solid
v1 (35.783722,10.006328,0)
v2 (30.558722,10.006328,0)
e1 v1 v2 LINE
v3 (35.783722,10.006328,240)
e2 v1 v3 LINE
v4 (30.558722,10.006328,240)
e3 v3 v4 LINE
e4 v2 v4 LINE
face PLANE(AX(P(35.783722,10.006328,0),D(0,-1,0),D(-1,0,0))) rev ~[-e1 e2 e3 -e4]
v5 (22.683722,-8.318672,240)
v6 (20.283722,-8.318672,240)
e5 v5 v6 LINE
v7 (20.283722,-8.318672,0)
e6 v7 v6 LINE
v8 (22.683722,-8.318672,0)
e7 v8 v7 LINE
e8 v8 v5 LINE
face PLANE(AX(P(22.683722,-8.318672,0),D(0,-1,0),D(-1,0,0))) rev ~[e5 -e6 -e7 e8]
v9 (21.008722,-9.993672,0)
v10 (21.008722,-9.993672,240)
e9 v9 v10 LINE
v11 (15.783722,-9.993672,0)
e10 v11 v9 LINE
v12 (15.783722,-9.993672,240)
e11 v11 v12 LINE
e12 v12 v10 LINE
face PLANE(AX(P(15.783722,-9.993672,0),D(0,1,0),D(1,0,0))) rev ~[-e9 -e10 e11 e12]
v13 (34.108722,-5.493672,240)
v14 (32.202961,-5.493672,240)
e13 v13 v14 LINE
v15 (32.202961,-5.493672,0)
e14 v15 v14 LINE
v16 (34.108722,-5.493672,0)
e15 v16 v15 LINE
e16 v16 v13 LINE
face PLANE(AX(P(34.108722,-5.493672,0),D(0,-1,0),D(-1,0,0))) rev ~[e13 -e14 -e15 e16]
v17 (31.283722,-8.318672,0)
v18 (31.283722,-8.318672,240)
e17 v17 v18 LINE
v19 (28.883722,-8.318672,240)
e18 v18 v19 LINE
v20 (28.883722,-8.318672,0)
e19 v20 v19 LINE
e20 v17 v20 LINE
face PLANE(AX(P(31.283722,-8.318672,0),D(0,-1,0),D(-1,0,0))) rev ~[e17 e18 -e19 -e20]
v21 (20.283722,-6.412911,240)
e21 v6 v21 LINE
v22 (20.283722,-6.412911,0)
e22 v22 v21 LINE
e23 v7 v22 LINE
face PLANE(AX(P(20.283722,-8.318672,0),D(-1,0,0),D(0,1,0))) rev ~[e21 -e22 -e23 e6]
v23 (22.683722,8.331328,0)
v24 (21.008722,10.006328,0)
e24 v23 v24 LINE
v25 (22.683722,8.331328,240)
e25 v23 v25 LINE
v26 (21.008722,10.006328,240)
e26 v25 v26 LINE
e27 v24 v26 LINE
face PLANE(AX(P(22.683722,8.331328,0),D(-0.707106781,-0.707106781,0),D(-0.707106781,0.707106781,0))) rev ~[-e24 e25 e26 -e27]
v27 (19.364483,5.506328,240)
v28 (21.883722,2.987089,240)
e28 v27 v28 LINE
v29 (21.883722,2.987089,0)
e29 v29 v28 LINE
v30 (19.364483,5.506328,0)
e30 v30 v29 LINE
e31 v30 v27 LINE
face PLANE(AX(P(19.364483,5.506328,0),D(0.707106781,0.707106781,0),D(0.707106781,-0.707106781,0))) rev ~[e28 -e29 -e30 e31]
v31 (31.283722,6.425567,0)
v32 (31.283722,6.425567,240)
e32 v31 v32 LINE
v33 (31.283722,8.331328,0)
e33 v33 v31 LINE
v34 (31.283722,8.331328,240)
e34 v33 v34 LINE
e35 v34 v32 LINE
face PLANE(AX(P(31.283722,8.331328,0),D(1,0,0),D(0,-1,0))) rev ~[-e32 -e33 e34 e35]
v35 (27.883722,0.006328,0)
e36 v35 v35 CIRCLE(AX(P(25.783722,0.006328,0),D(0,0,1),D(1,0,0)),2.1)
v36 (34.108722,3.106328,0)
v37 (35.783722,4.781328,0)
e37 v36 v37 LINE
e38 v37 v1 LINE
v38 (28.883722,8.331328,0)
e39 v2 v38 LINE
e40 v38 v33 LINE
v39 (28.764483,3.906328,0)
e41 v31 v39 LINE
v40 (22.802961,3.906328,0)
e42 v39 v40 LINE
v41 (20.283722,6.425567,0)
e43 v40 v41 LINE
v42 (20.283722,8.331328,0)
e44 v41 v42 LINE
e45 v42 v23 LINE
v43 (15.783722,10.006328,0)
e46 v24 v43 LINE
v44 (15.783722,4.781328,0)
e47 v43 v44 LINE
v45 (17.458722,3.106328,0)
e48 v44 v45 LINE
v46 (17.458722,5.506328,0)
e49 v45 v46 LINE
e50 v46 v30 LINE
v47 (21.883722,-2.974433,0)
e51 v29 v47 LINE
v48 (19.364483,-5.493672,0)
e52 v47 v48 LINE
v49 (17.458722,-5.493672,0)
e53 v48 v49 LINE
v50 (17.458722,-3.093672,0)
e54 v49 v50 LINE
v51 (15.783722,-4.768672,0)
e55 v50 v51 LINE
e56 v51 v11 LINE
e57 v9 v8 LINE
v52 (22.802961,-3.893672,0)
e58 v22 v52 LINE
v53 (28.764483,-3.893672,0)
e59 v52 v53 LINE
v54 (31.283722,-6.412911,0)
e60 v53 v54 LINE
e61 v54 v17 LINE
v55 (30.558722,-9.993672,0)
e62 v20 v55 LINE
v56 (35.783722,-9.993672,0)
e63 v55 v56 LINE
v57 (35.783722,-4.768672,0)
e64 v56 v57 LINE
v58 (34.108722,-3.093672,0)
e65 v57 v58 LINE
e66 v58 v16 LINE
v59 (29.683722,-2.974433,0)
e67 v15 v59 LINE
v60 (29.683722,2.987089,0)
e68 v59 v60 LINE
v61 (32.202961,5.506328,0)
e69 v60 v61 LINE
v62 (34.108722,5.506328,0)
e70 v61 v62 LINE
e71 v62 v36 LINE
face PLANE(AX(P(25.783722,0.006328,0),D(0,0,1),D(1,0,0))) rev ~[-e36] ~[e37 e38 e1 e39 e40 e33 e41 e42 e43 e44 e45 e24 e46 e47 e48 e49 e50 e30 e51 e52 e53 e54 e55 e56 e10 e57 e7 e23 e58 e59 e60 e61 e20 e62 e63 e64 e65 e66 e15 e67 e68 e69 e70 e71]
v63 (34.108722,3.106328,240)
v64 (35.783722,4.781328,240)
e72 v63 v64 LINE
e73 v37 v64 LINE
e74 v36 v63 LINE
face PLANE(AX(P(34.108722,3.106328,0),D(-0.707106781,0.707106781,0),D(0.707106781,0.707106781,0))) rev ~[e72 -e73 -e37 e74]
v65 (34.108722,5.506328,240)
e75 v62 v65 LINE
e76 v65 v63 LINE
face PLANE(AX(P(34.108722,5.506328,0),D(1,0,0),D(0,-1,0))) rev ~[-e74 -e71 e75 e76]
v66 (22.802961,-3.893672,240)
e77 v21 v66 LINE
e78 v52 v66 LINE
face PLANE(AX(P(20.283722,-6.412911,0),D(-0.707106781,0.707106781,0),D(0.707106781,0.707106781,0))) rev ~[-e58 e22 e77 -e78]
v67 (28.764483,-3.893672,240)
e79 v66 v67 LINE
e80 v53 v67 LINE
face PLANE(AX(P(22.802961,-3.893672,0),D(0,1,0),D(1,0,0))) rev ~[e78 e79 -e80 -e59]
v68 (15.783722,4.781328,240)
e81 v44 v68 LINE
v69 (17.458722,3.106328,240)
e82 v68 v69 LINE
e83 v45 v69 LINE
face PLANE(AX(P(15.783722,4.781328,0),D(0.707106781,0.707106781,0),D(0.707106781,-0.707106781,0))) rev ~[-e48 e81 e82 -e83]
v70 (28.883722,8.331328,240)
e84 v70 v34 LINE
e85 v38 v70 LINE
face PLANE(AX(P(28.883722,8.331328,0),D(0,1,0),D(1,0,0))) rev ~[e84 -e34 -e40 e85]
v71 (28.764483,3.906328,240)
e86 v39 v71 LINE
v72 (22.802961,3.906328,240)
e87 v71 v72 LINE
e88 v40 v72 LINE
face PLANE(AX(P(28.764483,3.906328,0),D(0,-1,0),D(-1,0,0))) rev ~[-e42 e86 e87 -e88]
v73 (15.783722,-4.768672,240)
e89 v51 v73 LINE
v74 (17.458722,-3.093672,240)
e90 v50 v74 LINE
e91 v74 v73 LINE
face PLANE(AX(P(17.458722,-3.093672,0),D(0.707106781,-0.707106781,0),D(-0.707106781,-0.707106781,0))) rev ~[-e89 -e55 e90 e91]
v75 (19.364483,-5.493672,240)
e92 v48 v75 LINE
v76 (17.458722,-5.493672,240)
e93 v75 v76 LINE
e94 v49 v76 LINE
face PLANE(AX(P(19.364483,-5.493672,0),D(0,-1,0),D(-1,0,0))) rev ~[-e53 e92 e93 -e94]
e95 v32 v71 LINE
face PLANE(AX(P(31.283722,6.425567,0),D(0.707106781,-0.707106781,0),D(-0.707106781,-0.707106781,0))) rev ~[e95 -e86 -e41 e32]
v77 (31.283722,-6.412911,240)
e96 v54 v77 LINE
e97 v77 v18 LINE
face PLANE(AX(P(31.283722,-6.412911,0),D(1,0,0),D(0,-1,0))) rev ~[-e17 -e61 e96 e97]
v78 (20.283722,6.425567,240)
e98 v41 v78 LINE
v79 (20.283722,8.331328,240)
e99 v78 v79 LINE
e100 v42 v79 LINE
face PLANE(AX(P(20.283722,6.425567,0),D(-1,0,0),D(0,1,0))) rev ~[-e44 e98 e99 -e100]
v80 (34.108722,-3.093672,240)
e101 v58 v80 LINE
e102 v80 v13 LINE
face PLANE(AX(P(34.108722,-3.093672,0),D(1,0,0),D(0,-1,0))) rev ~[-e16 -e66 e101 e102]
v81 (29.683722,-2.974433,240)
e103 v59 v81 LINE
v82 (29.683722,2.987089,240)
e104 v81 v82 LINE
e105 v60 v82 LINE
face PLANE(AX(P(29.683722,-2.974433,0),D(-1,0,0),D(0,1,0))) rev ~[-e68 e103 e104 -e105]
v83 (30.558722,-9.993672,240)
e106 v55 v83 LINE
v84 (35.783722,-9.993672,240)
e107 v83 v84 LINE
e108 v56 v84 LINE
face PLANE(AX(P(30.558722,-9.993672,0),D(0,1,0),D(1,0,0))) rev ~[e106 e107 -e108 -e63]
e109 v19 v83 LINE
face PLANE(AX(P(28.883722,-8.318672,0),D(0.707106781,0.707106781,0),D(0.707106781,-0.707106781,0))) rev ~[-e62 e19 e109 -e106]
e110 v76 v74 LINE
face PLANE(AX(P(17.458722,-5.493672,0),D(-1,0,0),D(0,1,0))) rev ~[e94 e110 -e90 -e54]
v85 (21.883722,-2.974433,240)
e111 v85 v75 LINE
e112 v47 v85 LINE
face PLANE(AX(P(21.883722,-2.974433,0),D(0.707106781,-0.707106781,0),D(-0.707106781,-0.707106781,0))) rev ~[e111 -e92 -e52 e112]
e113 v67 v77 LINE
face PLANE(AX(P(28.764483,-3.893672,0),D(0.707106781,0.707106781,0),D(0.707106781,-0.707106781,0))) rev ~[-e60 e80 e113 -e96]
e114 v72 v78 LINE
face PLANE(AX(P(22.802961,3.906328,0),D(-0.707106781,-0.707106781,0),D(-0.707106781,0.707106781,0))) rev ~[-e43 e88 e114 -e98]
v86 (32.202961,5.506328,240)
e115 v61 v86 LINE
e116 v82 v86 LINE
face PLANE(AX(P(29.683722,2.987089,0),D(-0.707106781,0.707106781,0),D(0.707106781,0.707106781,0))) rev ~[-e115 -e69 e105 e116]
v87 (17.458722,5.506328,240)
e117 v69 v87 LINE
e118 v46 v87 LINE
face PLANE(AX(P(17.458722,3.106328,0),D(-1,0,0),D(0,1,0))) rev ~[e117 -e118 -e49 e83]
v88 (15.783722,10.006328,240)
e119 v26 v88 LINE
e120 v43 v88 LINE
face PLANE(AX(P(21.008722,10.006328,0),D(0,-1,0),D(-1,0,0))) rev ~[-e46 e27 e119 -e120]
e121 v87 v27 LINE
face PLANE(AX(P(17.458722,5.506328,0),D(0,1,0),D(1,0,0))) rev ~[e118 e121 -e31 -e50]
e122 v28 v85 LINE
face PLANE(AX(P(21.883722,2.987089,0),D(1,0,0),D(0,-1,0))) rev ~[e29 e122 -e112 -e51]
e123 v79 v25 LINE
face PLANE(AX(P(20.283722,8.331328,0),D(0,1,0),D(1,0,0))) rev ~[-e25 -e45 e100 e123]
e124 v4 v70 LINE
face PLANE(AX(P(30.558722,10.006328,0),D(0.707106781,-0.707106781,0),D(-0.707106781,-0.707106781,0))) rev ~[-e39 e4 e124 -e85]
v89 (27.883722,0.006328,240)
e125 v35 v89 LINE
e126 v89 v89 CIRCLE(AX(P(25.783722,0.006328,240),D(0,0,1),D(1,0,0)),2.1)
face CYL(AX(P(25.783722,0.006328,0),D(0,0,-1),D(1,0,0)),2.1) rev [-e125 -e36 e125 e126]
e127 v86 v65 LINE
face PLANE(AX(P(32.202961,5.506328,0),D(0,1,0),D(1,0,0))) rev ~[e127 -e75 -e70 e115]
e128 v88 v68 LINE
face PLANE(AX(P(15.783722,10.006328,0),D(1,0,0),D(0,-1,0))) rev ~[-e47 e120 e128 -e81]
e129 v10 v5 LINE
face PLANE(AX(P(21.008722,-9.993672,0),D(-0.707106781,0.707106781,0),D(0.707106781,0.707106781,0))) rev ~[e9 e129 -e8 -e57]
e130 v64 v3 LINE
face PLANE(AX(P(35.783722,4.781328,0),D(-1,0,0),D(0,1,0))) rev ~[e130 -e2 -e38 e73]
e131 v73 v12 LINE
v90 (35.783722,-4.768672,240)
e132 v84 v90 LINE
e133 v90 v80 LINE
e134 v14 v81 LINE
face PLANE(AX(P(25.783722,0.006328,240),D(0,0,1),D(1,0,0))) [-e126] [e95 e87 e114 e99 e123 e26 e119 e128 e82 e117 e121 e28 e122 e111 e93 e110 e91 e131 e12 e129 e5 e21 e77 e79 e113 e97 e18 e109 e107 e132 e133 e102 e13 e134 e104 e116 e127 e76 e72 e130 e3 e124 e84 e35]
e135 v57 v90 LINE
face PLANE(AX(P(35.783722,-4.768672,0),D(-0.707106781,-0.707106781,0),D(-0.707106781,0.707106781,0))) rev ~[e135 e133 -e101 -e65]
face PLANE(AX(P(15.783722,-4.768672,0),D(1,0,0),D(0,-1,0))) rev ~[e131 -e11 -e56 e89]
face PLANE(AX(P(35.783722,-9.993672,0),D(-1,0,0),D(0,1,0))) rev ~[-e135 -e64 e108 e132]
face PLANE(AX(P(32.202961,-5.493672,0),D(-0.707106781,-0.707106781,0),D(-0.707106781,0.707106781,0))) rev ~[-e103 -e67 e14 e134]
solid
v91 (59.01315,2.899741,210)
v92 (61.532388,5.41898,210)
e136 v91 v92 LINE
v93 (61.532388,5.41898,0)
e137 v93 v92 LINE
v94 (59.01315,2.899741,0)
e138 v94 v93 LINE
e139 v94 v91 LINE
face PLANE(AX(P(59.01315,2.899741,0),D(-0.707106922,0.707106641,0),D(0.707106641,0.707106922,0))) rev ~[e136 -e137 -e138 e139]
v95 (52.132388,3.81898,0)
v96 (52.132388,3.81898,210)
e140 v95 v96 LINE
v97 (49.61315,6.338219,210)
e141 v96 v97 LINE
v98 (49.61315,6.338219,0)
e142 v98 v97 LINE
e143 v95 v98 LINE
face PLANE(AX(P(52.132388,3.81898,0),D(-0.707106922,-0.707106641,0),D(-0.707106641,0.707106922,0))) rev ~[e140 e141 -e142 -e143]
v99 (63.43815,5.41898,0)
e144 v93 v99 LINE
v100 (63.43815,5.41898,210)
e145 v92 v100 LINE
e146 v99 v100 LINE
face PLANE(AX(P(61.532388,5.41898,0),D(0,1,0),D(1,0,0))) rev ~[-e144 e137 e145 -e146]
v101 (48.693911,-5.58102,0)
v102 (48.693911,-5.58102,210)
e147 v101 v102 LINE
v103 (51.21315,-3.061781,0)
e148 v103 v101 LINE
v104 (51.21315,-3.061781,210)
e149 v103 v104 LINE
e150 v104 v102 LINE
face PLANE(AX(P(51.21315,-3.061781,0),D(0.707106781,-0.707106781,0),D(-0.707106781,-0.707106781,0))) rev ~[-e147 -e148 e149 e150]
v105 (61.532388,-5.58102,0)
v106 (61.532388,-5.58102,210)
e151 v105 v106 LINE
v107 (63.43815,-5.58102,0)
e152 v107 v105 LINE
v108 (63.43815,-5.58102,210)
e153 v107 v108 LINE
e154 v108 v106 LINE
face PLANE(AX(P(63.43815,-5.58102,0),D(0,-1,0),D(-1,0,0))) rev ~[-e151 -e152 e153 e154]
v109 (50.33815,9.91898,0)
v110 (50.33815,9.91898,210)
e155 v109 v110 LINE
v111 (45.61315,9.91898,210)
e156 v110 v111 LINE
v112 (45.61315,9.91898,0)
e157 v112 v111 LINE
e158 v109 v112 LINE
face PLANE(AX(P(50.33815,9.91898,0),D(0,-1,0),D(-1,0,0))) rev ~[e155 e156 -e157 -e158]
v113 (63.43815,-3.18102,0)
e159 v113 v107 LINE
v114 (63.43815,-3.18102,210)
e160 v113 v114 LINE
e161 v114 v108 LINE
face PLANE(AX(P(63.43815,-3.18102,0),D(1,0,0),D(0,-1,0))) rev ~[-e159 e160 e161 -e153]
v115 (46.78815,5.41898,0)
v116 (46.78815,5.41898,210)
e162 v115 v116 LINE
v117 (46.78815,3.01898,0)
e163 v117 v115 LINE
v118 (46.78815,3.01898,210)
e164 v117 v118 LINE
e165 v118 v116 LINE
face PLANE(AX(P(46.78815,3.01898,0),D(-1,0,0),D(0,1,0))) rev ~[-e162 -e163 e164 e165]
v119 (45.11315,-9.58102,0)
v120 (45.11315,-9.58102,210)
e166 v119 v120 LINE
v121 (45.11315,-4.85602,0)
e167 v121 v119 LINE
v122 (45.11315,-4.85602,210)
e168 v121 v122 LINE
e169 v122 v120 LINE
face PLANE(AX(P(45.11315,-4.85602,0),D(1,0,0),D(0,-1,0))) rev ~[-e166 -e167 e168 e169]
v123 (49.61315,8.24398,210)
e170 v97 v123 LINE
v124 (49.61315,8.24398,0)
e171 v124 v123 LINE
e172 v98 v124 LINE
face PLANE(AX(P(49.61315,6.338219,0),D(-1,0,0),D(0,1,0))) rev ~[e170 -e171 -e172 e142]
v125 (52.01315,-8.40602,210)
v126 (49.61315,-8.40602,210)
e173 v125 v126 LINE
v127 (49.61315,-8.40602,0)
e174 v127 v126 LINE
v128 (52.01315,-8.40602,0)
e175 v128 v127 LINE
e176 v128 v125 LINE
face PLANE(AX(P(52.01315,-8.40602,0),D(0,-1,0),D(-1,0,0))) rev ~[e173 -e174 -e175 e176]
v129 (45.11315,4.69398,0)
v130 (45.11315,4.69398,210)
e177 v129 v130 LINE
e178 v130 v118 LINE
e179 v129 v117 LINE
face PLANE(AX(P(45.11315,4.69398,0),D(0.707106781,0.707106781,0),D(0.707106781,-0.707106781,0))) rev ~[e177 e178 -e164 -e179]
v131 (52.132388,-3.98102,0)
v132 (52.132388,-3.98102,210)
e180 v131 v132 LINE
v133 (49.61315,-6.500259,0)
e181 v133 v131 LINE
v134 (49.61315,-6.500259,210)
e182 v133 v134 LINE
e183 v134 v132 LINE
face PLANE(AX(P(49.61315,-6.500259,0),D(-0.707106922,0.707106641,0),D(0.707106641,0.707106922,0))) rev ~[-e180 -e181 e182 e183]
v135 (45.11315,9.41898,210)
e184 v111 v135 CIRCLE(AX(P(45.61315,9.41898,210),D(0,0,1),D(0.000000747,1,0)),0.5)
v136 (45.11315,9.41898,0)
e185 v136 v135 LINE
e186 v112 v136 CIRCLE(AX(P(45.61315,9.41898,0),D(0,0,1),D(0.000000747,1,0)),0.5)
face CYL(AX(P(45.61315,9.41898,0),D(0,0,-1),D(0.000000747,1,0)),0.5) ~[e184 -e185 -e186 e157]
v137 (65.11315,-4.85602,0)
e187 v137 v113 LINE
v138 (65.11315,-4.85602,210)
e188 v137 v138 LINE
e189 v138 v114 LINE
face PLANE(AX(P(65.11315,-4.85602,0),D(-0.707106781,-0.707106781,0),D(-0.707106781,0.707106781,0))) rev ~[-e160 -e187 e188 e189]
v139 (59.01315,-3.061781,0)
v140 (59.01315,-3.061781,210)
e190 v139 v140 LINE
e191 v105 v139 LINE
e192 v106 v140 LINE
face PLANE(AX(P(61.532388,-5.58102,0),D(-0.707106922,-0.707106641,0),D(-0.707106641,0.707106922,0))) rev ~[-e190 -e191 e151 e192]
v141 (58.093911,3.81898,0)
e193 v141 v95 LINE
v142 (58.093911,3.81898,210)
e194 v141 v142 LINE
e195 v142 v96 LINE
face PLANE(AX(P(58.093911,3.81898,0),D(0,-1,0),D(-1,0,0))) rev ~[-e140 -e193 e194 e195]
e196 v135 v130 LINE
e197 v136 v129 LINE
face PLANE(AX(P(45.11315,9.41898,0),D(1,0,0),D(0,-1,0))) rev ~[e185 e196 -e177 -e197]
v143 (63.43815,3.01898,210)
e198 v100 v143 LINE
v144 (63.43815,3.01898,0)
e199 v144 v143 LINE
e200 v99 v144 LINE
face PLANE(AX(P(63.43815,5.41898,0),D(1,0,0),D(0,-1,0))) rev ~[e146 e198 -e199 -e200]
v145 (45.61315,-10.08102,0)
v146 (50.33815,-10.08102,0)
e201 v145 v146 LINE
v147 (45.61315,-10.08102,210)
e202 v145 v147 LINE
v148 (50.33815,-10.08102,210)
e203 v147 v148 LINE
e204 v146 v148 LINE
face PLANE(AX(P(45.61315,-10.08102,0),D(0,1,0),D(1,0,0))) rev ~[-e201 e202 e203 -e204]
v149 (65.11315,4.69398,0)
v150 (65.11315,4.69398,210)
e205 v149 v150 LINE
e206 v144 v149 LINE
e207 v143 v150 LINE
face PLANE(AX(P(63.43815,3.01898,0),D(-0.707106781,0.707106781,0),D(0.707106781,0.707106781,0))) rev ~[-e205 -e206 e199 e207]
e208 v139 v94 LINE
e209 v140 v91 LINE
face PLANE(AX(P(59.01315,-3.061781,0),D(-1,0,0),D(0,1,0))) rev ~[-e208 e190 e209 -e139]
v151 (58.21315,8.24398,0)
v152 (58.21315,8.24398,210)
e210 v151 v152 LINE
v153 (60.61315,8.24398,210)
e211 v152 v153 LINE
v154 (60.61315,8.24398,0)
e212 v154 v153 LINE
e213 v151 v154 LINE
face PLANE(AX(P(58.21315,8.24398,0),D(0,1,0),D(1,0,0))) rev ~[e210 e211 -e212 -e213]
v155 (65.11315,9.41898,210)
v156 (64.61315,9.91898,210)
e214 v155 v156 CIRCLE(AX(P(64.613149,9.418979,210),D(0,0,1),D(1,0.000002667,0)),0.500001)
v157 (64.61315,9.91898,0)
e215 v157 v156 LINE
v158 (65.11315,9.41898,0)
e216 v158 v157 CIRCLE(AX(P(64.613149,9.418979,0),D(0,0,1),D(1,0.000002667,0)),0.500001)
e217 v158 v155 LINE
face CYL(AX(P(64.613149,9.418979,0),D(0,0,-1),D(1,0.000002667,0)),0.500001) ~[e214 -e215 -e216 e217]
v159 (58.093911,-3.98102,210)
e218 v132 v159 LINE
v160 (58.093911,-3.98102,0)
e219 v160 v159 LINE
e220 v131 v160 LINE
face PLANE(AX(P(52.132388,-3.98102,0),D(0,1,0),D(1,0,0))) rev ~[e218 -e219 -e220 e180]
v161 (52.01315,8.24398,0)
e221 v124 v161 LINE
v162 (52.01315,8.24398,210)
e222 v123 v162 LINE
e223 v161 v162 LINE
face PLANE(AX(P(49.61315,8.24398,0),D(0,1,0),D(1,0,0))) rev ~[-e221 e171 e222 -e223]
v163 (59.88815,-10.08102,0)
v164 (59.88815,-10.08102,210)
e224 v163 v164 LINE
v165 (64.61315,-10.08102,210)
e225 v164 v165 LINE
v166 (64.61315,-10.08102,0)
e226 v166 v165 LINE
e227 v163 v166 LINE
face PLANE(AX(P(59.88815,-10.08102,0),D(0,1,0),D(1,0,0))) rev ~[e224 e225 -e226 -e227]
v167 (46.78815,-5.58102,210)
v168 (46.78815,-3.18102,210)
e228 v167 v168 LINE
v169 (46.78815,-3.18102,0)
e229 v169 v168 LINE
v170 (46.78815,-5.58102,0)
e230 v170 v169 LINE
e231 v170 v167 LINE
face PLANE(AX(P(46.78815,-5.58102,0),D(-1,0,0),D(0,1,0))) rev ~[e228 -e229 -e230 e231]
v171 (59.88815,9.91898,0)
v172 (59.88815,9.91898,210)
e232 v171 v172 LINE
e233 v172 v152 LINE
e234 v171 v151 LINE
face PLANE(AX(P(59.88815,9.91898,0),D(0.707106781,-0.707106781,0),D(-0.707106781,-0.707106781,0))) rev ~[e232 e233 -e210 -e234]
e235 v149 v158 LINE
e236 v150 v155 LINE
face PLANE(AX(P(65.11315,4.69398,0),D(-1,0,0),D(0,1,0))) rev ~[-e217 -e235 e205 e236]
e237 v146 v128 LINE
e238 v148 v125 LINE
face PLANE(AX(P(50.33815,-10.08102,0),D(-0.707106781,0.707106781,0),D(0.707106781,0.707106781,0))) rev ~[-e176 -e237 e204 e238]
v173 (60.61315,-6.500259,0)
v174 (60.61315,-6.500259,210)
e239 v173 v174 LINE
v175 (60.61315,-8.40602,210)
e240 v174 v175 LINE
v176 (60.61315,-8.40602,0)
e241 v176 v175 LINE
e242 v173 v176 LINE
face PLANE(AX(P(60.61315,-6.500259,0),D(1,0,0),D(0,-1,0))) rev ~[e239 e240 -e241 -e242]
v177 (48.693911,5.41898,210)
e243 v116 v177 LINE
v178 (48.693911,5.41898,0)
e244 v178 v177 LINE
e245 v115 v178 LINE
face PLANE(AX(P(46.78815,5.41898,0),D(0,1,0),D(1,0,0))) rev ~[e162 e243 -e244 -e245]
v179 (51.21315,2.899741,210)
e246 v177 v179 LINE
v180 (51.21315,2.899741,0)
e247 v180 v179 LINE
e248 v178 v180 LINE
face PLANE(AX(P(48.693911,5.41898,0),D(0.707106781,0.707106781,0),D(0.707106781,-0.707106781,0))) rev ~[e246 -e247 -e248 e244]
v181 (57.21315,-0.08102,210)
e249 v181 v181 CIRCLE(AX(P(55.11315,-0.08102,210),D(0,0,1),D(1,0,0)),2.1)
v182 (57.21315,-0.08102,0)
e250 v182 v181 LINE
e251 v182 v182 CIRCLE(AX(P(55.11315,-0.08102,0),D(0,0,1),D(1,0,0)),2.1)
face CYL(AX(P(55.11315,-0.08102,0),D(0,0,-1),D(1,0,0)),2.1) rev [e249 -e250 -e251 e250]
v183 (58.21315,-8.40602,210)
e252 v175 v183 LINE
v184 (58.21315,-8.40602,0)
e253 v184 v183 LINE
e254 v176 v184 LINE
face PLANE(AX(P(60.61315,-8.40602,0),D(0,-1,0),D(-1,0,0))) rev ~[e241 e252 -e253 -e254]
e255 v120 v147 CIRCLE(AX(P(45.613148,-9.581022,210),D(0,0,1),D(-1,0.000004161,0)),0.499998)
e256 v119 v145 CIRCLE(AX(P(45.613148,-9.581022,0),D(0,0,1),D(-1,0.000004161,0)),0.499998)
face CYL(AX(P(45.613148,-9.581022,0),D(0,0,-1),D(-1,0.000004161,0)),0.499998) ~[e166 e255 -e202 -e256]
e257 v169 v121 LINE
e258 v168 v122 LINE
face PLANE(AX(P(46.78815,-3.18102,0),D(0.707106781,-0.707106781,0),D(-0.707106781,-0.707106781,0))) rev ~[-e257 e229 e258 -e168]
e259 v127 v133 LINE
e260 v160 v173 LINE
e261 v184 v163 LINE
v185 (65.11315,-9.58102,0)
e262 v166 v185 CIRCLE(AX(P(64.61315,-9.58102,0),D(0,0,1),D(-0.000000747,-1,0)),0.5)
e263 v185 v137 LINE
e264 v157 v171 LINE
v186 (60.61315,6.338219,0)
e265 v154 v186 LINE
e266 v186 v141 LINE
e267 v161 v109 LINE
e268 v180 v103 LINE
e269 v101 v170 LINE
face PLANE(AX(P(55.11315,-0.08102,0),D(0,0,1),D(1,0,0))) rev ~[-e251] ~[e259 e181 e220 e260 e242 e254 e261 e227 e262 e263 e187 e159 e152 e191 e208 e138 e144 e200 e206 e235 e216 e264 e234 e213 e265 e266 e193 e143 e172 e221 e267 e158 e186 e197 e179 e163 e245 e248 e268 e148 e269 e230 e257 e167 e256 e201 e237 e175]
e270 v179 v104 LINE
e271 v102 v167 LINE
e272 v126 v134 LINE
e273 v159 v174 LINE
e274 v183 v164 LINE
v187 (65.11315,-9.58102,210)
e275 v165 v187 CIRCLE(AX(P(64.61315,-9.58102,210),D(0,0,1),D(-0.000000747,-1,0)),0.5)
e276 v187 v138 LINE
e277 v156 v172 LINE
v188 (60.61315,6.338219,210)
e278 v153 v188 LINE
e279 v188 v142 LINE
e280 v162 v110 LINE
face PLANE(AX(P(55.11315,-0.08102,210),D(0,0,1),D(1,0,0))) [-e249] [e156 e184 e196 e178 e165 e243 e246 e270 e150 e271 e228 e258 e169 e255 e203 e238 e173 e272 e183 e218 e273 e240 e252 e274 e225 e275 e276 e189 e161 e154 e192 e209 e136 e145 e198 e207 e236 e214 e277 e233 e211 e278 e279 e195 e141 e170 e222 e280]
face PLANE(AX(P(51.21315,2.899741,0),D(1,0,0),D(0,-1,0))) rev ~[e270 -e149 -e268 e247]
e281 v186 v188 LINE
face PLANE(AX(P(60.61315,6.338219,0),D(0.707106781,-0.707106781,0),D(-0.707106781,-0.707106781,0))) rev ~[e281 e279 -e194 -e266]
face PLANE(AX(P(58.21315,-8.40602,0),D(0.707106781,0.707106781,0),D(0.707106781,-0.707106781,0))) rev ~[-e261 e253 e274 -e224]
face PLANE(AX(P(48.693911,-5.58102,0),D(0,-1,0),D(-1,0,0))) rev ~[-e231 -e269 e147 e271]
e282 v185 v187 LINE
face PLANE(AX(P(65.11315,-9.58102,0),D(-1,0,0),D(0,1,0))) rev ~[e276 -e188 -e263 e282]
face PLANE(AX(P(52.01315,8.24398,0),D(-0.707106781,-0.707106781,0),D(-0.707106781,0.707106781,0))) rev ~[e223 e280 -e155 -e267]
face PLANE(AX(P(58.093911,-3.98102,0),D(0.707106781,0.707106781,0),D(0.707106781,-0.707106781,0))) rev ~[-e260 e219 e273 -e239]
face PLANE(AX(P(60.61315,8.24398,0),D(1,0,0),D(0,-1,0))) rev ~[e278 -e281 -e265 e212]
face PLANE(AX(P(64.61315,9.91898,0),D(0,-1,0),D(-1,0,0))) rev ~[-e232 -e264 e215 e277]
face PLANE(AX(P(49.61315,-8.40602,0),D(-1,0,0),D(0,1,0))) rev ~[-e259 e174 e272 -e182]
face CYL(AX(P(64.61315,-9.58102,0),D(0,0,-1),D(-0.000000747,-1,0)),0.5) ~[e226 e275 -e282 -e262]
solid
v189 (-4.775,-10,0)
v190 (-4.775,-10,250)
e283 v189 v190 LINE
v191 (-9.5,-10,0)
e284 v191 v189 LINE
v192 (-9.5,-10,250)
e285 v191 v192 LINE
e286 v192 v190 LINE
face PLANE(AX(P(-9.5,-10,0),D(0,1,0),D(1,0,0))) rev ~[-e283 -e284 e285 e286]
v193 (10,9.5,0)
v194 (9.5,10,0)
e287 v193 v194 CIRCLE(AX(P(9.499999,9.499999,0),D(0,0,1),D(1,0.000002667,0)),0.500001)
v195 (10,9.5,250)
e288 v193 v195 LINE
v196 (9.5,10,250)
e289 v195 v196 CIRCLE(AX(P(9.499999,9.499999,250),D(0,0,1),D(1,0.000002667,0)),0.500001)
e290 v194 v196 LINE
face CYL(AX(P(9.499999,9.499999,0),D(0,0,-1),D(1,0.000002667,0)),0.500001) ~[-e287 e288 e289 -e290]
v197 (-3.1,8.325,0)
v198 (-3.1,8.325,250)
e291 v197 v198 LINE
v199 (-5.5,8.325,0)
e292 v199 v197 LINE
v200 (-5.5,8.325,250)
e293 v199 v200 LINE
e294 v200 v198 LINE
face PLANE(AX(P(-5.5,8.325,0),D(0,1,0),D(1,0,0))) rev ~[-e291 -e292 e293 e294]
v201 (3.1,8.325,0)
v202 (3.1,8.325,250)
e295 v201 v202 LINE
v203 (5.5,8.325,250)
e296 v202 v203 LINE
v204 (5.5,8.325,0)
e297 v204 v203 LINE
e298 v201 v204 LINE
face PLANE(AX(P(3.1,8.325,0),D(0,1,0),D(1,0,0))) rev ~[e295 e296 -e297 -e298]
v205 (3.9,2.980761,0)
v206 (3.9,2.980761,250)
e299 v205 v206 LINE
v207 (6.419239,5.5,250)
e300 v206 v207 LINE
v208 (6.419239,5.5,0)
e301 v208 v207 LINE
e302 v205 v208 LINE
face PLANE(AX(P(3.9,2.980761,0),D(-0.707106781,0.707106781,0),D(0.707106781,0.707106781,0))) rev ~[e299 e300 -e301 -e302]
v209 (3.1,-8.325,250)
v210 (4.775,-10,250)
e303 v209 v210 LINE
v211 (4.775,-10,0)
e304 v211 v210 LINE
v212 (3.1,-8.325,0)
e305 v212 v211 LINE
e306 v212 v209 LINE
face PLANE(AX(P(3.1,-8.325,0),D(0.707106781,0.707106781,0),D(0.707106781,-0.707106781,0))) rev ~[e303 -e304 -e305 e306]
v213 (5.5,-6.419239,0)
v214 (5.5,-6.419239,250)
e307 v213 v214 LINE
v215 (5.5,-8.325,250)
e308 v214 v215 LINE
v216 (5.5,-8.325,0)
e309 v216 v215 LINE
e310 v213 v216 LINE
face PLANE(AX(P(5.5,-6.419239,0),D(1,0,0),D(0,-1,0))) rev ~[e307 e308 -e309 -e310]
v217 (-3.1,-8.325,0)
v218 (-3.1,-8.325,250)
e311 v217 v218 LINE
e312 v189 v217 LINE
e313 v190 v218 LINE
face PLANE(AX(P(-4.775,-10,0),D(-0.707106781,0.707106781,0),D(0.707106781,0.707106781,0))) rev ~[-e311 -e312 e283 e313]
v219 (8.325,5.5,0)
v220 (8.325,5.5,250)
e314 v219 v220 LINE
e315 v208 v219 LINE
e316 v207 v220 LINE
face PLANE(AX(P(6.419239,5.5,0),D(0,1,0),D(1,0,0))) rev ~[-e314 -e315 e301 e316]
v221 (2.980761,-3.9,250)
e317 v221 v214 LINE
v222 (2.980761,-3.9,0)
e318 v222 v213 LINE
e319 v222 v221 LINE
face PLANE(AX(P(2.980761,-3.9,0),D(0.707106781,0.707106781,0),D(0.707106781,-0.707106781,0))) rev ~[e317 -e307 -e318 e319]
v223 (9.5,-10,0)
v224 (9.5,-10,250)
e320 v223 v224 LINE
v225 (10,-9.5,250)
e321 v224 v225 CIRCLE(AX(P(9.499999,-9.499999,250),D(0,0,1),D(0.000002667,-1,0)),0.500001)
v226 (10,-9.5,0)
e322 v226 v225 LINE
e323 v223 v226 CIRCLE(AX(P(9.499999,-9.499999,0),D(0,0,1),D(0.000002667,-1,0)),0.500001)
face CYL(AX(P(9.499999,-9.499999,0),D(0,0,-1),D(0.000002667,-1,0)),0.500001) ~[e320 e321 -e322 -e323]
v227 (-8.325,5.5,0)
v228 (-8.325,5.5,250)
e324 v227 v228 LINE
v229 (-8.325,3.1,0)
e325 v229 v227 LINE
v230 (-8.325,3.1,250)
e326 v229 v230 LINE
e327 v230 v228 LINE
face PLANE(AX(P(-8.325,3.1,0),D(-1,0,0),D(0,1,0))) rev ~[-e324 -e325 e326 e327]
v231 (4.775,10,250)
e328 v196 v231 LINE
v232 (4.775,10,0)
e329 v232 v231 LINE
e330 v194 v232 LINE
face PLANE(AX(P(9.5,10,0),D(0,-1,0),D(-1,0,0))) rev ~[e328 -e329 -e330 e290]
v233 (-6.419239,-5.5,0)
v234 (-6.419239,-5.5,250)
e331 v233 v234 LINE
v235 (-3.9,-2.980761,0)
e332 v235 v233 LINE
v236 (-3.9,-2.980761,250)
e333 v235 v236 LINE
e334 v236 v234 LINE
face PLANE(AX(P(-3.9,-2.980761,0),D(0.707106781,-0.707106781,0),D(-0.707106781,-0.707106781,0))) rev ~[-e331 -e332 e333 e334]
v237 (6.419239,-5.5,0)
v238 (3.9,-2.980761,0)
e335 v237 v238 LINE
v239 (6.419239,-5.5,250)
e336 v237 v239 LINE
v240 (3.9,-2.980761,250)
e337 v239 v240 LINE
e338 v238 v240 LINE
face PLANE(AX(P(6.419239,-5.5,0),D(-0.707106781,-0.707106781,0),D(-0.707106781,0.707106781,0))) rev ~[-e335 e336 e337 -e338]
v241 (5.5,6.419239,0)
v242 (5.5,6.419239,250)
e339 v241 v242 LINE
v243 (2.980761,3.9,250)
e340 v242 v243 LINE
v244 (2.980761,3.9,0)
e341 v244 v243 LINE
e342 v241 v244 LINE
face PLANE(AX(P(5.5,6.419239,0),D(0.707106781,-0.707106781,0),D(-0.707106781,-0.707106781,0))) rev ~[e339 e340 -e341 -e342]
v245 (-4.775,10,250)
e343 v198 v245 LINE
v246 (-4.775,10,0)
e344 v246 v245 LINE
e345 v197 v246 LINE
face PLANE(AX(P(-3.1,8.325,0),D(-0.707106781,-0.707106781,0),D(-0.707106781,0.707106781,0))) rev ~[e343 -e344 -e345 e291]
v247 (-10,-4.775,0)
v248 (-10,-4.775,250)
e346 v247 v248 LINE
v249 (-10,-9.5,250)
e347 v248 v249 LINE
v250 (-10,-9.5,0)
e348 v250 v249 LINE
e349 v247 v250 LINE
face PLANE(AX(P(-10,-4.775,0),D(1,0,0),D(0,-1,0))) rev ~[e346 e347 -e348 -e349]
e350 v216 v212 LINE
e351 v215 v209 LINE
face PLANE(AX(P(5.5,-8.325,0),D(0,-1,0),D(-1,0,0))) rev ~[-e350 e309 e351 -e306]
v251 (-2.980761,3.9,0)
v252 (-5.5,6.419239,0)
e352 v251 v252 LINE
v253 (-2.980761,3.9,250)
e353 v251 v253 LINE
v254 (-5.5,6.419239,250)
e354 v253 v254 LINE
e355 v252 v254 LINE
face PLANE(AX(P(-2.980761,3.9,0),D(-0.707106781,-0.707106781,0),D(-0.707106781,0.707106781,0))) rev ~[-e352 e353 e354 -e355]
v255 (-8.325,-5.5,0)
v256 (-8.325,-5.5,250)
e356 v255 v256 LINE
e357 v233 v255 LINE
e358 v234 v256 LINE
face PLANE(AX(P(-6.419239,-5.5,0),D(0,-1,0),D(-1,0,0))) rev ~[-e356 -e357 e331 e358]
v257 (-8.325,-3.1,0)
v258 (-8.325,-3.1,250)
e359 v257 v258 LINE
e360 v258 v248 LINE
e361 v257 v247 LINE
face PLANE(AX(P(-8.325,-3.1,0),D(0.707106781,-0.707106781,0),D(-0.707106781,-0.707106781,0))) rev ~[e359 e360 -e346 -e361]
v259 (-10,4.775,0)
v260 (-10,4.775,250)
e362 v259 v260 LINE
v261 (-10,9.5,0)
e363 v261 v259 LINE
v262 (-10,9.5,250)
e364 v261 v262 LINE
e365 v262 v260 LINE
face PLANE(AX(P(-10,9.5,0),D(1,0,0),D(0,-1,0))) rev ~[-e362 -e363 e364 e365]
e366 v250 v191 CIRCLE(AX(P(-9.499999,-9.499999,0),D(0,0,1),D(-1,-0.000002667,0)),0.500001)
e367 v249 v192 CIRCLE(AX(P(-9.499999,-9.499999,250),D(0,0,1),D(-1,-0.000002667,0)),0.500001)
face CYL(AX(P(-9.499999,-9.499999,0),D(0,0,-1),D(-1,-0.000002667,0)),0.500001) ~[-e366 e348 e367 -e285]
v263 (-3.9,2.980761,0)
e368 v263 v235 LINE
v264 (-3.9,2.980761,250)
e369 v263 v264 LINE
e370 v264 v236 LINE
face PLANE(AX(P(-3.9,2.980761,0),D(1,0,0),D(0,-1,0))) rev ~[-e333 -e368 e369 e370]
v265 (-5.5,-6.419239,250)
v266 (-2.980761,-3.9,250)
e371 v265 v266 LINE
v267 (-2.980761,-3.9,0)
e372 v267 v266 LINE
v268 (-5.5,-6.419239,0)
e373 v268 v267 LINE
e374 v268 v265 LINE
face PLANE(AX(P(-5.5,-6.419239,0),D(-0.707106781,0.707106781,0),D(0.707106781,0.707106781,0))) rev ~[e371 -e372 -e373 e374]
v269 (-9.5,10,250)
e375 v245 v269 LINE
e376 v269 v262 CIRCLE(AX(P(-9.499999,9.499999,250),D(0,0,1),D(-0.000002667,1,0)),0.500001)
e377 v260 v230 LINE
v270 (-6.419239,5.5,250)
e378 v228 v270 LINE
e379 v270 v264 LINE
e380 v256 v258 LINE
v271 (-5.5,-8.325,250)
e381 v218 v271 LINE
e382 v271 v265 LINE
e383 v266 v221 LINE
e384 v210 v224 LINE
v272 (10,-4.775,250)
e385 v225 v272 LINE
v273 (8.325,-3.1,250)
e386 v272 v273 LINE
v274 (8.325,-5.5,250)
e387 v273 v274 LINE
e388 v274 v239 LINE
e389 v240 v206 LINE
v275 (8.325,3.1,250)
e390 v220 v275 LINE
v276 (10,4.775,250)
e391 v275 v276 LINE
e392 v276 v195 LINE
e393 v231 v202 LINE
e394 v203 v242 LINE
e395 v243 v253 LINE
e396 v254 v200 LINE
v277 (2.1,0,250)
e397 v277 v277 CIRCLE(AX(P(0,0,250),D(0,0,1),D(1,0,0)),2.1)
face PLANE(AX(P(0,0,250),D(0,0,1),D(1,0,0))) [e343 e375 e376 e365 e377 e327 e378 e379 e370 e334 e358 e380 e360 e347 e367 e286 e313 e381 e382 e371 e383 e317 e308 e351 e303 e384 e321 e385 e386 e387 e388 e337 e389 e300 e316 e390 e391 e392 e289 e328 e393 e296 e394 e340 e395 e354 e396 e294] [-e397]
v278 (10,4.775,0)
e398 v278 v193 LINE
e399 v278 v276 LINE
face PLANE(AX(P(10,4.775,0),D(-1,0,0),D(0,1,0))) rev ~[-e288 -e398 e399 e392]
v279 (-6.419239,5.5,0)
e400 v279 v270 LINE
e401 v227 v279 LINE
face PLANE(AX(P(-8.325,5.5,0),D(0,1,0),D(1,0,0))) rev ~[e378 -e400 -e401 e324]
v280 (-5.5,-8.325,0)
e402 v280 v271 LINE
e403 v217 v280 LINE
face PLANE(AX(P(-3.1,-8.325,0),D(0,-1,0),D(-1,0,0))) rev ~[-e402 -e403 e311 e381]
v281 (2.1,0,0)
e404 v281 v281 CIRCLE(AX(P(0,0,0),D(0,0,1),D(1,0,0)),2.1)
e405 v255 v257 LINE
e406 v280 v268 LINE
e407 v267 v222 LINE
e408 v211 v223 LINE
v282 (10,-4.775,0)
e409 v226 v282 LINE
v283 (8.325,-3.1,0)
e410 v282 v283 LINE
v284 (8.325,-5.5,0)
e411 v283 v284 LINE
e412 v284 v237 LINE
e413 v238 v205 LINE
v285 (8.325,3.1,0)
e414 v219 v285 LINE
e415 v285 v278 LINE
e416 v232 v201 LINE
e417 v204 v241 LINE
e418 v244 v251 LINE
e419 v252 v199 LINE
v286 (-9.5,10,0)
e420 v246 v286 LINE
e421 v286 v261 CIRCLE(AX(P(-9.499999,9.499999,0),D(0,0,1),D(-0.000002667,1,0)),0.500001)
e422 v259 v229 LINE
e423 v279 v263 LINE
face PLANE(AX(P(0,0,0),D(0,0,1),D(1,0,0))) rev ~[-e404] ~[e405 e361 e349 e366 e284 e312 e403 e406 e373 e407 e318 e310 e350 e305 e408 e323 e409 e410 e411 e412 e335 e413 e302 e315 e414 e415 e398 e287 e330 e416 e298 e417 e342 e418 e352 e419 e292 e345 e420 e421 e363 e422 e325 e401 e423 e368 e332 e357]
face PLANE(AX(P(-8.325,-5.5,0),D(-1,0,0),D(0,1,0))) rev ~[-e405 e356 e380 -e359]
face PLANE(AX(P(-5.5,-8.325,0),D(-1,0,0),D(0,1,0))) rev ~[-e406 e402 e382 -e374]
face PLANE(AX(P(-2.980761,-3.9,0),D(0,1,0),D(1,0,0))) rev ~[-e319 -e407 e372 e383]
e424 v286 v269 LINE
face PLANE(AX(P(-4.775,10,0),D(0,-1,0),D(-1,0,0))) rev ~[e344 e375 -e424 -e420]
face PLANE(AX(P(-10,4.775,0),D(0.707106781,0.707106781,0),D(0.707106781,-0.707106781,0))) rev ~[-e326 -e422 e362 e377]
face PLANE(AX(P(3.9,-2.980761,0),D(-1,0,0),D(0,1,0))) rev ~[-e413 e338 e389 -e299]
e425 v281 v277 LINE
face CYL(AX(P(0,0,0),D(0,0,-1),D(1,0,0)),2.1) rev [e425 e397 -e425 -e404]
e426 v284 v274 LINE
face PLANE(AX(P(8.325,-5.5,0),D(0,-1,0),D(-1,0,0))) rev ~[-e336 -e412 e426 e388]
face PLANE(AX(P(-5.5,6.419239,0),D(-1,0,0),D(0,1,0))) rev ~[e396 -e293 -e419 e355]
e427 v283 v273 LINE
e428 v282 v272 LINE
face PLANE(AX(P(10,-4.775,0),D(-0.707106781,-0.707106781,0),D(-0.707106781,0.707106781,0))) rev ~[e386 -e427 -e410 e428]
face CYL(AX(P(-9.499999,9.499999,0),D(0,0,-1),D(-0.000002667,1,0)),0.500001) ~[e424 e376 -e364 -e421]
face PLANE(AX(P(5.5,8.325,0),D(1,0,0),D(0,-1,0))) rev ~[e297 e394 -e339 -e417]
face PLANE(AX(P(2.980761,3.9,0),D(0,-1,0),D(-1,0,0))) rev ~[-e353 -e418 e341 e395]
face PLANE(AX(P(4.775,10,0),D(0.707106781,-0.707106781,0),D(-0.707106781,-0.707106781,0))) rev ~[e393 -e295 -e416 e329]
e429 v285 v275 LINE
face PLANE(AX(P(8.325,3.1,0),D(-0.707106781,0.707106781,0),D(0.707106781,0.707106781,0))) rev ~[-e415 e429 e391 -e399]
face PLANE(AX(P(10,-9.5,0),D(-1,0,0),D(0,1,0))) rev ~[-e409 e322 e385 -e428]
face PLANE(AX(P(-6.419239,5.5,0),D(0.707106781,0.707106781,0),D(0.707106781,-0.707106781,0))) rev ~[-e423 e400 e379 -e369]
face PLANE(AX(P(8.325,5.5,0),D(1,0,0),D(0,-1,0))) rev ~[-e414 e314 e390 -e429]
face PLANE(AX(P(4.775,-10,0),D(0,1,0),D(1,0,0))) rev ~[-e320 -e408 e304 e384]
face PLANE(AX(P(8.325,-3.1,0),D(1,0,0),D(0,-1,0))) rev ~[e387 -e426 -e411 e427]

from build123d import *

# Parameters (mm, degrees)
F0_R     = 2.1
F1_DEPTH = 250
F2_R     = 2.1
F3_DEPTH = 240
F4_R     = 2.1
F5_DEPTH = 210


with BuildPart() as f1:
    # F0 (on Top) → F1 (new body)
    with BuildSketch(Plane.XY):
        with BuildLine():
            ThreePointArc((9.5, -10), (9.853553, -9.853553), (10, -9.5))
            Line((10, -9.5), (10, -4.775))
            Line((10, -4.775), (8.325, -3.1))
            Line((8.325, -3.1), (8.325, -5.5))
            Line((8.325, -5.5), (6.419239, -5.5))
            Line((6.419239, -5.5), (3.9, -2.980761))
            Line((3.9, -2.980761), (3.9, 2.980761))
            Line((3.9, 2.980761), (6.419239, 5.5))
            Line((6.419239, 5.5), (8.325, 5.5))
            Line((8.325, 5.5), (8.325, 3.1))
            Line((8.325, 3.1), (10, 4.775))
            Line((10, 4.775), (10, 9.5))
            ThreePointArc((10, 9.5), (9.853553, 9.853553), (9.5, 10))
            Line((9.5, 10), (4.775, 10))
            Line((4.775, 10), (3.1, 8.325))
            Line((3.1, 8.325), (5.5, 8.325))
            Line((5.5, 8.325), (5.5, 6.419239))
            Line((5.5, 6.419239), (2.980761, 3.9))
            Line((2.980761, 3.9), (-2.980761, 3.9))
            Line((-2.980761, 3.9), (-5.5, 6.419239))
            Line((-5.5, 6.419239), (-5.5, 8.325))
            Line((-5.5, 8.325), (-3.1, 8.325))
            Line((-3.1, 8.325), (-4.775, 10))
            Line((-4.775, 10), (-9.5, 10))
            ThreePointArc((-9.5, 10), (-9.853553, 9.853553), (-10, 9.5))
            Line((-10, 9.5), (-10, 4.775))
            Line((-10, 4.775), (-8.325, 3.1))
            Line((-8.325, 3.1), (-8.325, 5.5))
            Line((-8.325, 5.5), (-6.419239, 5.5))
            Line((-6.419239, 5.5), (-3.9, 2.980761))
            Line((-3.9, 2.980761), (-3.9, -2.980761))
            Line((-3.9, -2.980761), (-6.419239, -5.5))
            Line((-6.419239, -5.5), (-8.325, -5.5))
            Line((-8.325, -5.5), (-8.325, -3.1))
            Line((-8.325, -3.1), (-10, -4.775))
            Line((-10, -4.775), (-10, -9.5))
            ThreePointArc((-10, -9.5), (-9.853553, -9.853553), (-9.5, -10))
            Line((-9.5, -10), (-4.775, -10))
            Line((-4.775, -10), (-3.1, -8.325))
            Line((-3.1, -8.325), (-5.5, -8.325))
            Line((-5.5, -8.325), (-5.5, -6.419239))
            Line((-5.5, -6.419239), (-2.980761, -3.9))
            Line((-2.980761, -3.9), (2.980761, -3.9))
            Line((2.980761, -3.9), (5.5, -6.419239))
            Line((5.5, -6.419239), (5.5, -8.325))
            Line((5.5, -8.325), (3.1, -8.325))
            Line((3.1, -8.325), (4.775, -10))
            Line((4.775, -10), (9.5, -10))
        make_face()
        Circle(F0_R, mode=Mode.SUBTRACT)
    extrude(amount=F1_DEPTH)


with BuildPart() as f3:
    # F2 (on Top) → F3 (new body)
    with BuildSketch(Plane.XY):
        Polygon((30.558722, -9.993672), (35.783722, -9.993672), (35.783722, -4.768672), (34.108722, -3.093672), (34.108722, -5.493672), (32.202961, -5.493672), (29.683722, -2.974433), (29.683722, 2.987089), (32.202961, 5.506328), (34.108722, 5.506328), (34.108722, 3.106328), (35.783722, 4.781328), (35.783722, 10.006328), (30.558722, 10.006328), (28.883722, 8.331328), (31.283722, 8.331328), (31.283722, 6.425567), (28.764483, 3.906328), (22.802961, 3.906328), (20.283722, 6.425567), (20.283722, 8.331328), (22.683722, 8.331328), (21.008722, 10.006328), (15.783722, 10.006328), (15.783722, 4.781328), (17.458722, 3.106328), (17.458722, 5.506328), (19.364483, 5.506328), (21.883722, 2.987089), (21.883722, -2.974433), (19.364483, -5.493672), (17.458722, -5.493672), (17.458722, -3.093672), (15.783722, -4.768672), (15.783722, -9.993672), (21.008722, -9.993672), (22.683722, -8.318672), (20.283722, -8.318672), (20.283722, -6.412911), (22.802961, -3.893672), (28.764483, -3.893672), (31.283722, -6.412911), (31.283722, -8.318672), (28.883722, -8.318672), align=None)
        with Locations((25.783722, 0.006328)):
            Circle(F2_R, mode=Mode.SUBTRACT)
    extrude(amount=F3_DEPTH)


with BuildPart() as f5:
    # F4 (on Top) → F5 (new body)
    with BuildSketch(Plane.XY):
        with BuildLine():
            ThreePointArc((64.61315, -10.08102), (64.966703, -9.934574), (65.11315, -9.58102))
            Line((65.11315, -9.58102), (65.11315, -4.85602))
            Line((65.11315, -4.85602), (63.43815, -3.18102))
            Line((63.43815, -3.18102), (63.43815, -5.58102))
            Line((63.43815, -5.58102), (61.532388, -5.58102))
            Line((61.532388, -5.58102), (59.01315, -3.061781))
            Line((59.01315, -3.061781), (59.01315, 2.899741))
            Line((59.01315, 2.899741), (61.532388, 5.41898))
            Line((61.532388, 5.41898), (63.43815, 5.41898))
            Line((63.43815, 5.41898), (63.43815, 3.01898))
            Line((63.43815, 3.01898), (65.11315, 4.69398))
            Line((65.11315, 4.69398), (65.11315, 9.41898))
            ThreePointArc((65.11315, 9.41898), (64.966703, 9.772533), (64.61315, 9.91898))
            Line((64.61315, 9.91898), (59.88815, 9.91898))
            Line((59.88815, 9.91898), (58.21315, 8.24398))
            Line((58.21315, 8.24398), (60.61315, 8.24398))
            Line((60.61315, 8.24398), (60.61315, 6.338219))
            Line((60.61315, 6.338219), (58.093911, 3.81898))
            Line((58.093911, 3.81898), (52.132388, 3.81898))
            Line((52.132388, 3.81898), (49.61315, 6.338219))
            Line((49.61315, 6.338219), (49.61315, 8.24398))
            Line((49.61315, 8.24398), (52.01315, 8.24398))
            Line((52.01315, 8.24398), (50.33815, 9.91898))
            Line((50.33815, 9.91898), (45.61315, 9.91898))
            ThreePointArc((45.61315, 9.91898), (45.259596, 9.772533), (45.11315, 9.41898))
            Line((45.11315, 9.41898), (45.11315, 4.69398))
            Line((45.11315, 4.69398), (46.78815, 3.01898))
            Line((46.78815, 3.01898), (46.78815, 5.41898))
            Line((46.78815, 5.41898), (48.693911, 5.41898))
            Line((48.693911, 5.41898), (51.21315, 2.899741))
            Line((51.21315, 2.899741), (51.21315, -3.061781))
            Line((51.21315, -3.061781), (48.693911, -5.58102))
            Line((48.693911, -5.58102), (46.78815, -5.58102))
            Line((46.78815, -5.58102), (46.78815, -3.18102))
            Line((46.78815, -3.18102), (45.11315, -4.85602))
            Line((45.11315, -4.85602), (45.11315, -9.58102))
            ThreePointArc((45.11315, -9.58102), (45.259596, -9.934574), (45.61315, -10.08102))
            Line((45.61315, -10.08102), (50.33815, -10.08102))
            Line((50.33815, -10.08102), (52.01315, -8.40602))
            Line((52.01315, -8.40602), (49.61315, -8.40602))
            Line((49.61315, -8.40602), (49.61315, -6.500259))
            Line((49.61315, -6.500259), (52.132388, -3.98102))
            Line((52.132388, -3.98102), (58.093911, -3.98102))
            Line((58.093911, -3.98102), (60.61315, -6.500259))
            Line((60.61315, -6.500259), (60.61315, -8.40602))
            Line((60.61315, -8.40602), (58.21315, -8.40602))
            Line((58.21315, -8.40602), (59.88815, -10.08102))
            Line((59.88815, -10.08102), (64.61315, -10.08102))
        make_face()
        with Locations((55.11315, -0.08102)):
            Circle(F4_R, mode=Mode.SUBTRACT)
    extrude(amount=F5_DEPTH)


solid = Compound([f1.part, f3.part, f5.part])
